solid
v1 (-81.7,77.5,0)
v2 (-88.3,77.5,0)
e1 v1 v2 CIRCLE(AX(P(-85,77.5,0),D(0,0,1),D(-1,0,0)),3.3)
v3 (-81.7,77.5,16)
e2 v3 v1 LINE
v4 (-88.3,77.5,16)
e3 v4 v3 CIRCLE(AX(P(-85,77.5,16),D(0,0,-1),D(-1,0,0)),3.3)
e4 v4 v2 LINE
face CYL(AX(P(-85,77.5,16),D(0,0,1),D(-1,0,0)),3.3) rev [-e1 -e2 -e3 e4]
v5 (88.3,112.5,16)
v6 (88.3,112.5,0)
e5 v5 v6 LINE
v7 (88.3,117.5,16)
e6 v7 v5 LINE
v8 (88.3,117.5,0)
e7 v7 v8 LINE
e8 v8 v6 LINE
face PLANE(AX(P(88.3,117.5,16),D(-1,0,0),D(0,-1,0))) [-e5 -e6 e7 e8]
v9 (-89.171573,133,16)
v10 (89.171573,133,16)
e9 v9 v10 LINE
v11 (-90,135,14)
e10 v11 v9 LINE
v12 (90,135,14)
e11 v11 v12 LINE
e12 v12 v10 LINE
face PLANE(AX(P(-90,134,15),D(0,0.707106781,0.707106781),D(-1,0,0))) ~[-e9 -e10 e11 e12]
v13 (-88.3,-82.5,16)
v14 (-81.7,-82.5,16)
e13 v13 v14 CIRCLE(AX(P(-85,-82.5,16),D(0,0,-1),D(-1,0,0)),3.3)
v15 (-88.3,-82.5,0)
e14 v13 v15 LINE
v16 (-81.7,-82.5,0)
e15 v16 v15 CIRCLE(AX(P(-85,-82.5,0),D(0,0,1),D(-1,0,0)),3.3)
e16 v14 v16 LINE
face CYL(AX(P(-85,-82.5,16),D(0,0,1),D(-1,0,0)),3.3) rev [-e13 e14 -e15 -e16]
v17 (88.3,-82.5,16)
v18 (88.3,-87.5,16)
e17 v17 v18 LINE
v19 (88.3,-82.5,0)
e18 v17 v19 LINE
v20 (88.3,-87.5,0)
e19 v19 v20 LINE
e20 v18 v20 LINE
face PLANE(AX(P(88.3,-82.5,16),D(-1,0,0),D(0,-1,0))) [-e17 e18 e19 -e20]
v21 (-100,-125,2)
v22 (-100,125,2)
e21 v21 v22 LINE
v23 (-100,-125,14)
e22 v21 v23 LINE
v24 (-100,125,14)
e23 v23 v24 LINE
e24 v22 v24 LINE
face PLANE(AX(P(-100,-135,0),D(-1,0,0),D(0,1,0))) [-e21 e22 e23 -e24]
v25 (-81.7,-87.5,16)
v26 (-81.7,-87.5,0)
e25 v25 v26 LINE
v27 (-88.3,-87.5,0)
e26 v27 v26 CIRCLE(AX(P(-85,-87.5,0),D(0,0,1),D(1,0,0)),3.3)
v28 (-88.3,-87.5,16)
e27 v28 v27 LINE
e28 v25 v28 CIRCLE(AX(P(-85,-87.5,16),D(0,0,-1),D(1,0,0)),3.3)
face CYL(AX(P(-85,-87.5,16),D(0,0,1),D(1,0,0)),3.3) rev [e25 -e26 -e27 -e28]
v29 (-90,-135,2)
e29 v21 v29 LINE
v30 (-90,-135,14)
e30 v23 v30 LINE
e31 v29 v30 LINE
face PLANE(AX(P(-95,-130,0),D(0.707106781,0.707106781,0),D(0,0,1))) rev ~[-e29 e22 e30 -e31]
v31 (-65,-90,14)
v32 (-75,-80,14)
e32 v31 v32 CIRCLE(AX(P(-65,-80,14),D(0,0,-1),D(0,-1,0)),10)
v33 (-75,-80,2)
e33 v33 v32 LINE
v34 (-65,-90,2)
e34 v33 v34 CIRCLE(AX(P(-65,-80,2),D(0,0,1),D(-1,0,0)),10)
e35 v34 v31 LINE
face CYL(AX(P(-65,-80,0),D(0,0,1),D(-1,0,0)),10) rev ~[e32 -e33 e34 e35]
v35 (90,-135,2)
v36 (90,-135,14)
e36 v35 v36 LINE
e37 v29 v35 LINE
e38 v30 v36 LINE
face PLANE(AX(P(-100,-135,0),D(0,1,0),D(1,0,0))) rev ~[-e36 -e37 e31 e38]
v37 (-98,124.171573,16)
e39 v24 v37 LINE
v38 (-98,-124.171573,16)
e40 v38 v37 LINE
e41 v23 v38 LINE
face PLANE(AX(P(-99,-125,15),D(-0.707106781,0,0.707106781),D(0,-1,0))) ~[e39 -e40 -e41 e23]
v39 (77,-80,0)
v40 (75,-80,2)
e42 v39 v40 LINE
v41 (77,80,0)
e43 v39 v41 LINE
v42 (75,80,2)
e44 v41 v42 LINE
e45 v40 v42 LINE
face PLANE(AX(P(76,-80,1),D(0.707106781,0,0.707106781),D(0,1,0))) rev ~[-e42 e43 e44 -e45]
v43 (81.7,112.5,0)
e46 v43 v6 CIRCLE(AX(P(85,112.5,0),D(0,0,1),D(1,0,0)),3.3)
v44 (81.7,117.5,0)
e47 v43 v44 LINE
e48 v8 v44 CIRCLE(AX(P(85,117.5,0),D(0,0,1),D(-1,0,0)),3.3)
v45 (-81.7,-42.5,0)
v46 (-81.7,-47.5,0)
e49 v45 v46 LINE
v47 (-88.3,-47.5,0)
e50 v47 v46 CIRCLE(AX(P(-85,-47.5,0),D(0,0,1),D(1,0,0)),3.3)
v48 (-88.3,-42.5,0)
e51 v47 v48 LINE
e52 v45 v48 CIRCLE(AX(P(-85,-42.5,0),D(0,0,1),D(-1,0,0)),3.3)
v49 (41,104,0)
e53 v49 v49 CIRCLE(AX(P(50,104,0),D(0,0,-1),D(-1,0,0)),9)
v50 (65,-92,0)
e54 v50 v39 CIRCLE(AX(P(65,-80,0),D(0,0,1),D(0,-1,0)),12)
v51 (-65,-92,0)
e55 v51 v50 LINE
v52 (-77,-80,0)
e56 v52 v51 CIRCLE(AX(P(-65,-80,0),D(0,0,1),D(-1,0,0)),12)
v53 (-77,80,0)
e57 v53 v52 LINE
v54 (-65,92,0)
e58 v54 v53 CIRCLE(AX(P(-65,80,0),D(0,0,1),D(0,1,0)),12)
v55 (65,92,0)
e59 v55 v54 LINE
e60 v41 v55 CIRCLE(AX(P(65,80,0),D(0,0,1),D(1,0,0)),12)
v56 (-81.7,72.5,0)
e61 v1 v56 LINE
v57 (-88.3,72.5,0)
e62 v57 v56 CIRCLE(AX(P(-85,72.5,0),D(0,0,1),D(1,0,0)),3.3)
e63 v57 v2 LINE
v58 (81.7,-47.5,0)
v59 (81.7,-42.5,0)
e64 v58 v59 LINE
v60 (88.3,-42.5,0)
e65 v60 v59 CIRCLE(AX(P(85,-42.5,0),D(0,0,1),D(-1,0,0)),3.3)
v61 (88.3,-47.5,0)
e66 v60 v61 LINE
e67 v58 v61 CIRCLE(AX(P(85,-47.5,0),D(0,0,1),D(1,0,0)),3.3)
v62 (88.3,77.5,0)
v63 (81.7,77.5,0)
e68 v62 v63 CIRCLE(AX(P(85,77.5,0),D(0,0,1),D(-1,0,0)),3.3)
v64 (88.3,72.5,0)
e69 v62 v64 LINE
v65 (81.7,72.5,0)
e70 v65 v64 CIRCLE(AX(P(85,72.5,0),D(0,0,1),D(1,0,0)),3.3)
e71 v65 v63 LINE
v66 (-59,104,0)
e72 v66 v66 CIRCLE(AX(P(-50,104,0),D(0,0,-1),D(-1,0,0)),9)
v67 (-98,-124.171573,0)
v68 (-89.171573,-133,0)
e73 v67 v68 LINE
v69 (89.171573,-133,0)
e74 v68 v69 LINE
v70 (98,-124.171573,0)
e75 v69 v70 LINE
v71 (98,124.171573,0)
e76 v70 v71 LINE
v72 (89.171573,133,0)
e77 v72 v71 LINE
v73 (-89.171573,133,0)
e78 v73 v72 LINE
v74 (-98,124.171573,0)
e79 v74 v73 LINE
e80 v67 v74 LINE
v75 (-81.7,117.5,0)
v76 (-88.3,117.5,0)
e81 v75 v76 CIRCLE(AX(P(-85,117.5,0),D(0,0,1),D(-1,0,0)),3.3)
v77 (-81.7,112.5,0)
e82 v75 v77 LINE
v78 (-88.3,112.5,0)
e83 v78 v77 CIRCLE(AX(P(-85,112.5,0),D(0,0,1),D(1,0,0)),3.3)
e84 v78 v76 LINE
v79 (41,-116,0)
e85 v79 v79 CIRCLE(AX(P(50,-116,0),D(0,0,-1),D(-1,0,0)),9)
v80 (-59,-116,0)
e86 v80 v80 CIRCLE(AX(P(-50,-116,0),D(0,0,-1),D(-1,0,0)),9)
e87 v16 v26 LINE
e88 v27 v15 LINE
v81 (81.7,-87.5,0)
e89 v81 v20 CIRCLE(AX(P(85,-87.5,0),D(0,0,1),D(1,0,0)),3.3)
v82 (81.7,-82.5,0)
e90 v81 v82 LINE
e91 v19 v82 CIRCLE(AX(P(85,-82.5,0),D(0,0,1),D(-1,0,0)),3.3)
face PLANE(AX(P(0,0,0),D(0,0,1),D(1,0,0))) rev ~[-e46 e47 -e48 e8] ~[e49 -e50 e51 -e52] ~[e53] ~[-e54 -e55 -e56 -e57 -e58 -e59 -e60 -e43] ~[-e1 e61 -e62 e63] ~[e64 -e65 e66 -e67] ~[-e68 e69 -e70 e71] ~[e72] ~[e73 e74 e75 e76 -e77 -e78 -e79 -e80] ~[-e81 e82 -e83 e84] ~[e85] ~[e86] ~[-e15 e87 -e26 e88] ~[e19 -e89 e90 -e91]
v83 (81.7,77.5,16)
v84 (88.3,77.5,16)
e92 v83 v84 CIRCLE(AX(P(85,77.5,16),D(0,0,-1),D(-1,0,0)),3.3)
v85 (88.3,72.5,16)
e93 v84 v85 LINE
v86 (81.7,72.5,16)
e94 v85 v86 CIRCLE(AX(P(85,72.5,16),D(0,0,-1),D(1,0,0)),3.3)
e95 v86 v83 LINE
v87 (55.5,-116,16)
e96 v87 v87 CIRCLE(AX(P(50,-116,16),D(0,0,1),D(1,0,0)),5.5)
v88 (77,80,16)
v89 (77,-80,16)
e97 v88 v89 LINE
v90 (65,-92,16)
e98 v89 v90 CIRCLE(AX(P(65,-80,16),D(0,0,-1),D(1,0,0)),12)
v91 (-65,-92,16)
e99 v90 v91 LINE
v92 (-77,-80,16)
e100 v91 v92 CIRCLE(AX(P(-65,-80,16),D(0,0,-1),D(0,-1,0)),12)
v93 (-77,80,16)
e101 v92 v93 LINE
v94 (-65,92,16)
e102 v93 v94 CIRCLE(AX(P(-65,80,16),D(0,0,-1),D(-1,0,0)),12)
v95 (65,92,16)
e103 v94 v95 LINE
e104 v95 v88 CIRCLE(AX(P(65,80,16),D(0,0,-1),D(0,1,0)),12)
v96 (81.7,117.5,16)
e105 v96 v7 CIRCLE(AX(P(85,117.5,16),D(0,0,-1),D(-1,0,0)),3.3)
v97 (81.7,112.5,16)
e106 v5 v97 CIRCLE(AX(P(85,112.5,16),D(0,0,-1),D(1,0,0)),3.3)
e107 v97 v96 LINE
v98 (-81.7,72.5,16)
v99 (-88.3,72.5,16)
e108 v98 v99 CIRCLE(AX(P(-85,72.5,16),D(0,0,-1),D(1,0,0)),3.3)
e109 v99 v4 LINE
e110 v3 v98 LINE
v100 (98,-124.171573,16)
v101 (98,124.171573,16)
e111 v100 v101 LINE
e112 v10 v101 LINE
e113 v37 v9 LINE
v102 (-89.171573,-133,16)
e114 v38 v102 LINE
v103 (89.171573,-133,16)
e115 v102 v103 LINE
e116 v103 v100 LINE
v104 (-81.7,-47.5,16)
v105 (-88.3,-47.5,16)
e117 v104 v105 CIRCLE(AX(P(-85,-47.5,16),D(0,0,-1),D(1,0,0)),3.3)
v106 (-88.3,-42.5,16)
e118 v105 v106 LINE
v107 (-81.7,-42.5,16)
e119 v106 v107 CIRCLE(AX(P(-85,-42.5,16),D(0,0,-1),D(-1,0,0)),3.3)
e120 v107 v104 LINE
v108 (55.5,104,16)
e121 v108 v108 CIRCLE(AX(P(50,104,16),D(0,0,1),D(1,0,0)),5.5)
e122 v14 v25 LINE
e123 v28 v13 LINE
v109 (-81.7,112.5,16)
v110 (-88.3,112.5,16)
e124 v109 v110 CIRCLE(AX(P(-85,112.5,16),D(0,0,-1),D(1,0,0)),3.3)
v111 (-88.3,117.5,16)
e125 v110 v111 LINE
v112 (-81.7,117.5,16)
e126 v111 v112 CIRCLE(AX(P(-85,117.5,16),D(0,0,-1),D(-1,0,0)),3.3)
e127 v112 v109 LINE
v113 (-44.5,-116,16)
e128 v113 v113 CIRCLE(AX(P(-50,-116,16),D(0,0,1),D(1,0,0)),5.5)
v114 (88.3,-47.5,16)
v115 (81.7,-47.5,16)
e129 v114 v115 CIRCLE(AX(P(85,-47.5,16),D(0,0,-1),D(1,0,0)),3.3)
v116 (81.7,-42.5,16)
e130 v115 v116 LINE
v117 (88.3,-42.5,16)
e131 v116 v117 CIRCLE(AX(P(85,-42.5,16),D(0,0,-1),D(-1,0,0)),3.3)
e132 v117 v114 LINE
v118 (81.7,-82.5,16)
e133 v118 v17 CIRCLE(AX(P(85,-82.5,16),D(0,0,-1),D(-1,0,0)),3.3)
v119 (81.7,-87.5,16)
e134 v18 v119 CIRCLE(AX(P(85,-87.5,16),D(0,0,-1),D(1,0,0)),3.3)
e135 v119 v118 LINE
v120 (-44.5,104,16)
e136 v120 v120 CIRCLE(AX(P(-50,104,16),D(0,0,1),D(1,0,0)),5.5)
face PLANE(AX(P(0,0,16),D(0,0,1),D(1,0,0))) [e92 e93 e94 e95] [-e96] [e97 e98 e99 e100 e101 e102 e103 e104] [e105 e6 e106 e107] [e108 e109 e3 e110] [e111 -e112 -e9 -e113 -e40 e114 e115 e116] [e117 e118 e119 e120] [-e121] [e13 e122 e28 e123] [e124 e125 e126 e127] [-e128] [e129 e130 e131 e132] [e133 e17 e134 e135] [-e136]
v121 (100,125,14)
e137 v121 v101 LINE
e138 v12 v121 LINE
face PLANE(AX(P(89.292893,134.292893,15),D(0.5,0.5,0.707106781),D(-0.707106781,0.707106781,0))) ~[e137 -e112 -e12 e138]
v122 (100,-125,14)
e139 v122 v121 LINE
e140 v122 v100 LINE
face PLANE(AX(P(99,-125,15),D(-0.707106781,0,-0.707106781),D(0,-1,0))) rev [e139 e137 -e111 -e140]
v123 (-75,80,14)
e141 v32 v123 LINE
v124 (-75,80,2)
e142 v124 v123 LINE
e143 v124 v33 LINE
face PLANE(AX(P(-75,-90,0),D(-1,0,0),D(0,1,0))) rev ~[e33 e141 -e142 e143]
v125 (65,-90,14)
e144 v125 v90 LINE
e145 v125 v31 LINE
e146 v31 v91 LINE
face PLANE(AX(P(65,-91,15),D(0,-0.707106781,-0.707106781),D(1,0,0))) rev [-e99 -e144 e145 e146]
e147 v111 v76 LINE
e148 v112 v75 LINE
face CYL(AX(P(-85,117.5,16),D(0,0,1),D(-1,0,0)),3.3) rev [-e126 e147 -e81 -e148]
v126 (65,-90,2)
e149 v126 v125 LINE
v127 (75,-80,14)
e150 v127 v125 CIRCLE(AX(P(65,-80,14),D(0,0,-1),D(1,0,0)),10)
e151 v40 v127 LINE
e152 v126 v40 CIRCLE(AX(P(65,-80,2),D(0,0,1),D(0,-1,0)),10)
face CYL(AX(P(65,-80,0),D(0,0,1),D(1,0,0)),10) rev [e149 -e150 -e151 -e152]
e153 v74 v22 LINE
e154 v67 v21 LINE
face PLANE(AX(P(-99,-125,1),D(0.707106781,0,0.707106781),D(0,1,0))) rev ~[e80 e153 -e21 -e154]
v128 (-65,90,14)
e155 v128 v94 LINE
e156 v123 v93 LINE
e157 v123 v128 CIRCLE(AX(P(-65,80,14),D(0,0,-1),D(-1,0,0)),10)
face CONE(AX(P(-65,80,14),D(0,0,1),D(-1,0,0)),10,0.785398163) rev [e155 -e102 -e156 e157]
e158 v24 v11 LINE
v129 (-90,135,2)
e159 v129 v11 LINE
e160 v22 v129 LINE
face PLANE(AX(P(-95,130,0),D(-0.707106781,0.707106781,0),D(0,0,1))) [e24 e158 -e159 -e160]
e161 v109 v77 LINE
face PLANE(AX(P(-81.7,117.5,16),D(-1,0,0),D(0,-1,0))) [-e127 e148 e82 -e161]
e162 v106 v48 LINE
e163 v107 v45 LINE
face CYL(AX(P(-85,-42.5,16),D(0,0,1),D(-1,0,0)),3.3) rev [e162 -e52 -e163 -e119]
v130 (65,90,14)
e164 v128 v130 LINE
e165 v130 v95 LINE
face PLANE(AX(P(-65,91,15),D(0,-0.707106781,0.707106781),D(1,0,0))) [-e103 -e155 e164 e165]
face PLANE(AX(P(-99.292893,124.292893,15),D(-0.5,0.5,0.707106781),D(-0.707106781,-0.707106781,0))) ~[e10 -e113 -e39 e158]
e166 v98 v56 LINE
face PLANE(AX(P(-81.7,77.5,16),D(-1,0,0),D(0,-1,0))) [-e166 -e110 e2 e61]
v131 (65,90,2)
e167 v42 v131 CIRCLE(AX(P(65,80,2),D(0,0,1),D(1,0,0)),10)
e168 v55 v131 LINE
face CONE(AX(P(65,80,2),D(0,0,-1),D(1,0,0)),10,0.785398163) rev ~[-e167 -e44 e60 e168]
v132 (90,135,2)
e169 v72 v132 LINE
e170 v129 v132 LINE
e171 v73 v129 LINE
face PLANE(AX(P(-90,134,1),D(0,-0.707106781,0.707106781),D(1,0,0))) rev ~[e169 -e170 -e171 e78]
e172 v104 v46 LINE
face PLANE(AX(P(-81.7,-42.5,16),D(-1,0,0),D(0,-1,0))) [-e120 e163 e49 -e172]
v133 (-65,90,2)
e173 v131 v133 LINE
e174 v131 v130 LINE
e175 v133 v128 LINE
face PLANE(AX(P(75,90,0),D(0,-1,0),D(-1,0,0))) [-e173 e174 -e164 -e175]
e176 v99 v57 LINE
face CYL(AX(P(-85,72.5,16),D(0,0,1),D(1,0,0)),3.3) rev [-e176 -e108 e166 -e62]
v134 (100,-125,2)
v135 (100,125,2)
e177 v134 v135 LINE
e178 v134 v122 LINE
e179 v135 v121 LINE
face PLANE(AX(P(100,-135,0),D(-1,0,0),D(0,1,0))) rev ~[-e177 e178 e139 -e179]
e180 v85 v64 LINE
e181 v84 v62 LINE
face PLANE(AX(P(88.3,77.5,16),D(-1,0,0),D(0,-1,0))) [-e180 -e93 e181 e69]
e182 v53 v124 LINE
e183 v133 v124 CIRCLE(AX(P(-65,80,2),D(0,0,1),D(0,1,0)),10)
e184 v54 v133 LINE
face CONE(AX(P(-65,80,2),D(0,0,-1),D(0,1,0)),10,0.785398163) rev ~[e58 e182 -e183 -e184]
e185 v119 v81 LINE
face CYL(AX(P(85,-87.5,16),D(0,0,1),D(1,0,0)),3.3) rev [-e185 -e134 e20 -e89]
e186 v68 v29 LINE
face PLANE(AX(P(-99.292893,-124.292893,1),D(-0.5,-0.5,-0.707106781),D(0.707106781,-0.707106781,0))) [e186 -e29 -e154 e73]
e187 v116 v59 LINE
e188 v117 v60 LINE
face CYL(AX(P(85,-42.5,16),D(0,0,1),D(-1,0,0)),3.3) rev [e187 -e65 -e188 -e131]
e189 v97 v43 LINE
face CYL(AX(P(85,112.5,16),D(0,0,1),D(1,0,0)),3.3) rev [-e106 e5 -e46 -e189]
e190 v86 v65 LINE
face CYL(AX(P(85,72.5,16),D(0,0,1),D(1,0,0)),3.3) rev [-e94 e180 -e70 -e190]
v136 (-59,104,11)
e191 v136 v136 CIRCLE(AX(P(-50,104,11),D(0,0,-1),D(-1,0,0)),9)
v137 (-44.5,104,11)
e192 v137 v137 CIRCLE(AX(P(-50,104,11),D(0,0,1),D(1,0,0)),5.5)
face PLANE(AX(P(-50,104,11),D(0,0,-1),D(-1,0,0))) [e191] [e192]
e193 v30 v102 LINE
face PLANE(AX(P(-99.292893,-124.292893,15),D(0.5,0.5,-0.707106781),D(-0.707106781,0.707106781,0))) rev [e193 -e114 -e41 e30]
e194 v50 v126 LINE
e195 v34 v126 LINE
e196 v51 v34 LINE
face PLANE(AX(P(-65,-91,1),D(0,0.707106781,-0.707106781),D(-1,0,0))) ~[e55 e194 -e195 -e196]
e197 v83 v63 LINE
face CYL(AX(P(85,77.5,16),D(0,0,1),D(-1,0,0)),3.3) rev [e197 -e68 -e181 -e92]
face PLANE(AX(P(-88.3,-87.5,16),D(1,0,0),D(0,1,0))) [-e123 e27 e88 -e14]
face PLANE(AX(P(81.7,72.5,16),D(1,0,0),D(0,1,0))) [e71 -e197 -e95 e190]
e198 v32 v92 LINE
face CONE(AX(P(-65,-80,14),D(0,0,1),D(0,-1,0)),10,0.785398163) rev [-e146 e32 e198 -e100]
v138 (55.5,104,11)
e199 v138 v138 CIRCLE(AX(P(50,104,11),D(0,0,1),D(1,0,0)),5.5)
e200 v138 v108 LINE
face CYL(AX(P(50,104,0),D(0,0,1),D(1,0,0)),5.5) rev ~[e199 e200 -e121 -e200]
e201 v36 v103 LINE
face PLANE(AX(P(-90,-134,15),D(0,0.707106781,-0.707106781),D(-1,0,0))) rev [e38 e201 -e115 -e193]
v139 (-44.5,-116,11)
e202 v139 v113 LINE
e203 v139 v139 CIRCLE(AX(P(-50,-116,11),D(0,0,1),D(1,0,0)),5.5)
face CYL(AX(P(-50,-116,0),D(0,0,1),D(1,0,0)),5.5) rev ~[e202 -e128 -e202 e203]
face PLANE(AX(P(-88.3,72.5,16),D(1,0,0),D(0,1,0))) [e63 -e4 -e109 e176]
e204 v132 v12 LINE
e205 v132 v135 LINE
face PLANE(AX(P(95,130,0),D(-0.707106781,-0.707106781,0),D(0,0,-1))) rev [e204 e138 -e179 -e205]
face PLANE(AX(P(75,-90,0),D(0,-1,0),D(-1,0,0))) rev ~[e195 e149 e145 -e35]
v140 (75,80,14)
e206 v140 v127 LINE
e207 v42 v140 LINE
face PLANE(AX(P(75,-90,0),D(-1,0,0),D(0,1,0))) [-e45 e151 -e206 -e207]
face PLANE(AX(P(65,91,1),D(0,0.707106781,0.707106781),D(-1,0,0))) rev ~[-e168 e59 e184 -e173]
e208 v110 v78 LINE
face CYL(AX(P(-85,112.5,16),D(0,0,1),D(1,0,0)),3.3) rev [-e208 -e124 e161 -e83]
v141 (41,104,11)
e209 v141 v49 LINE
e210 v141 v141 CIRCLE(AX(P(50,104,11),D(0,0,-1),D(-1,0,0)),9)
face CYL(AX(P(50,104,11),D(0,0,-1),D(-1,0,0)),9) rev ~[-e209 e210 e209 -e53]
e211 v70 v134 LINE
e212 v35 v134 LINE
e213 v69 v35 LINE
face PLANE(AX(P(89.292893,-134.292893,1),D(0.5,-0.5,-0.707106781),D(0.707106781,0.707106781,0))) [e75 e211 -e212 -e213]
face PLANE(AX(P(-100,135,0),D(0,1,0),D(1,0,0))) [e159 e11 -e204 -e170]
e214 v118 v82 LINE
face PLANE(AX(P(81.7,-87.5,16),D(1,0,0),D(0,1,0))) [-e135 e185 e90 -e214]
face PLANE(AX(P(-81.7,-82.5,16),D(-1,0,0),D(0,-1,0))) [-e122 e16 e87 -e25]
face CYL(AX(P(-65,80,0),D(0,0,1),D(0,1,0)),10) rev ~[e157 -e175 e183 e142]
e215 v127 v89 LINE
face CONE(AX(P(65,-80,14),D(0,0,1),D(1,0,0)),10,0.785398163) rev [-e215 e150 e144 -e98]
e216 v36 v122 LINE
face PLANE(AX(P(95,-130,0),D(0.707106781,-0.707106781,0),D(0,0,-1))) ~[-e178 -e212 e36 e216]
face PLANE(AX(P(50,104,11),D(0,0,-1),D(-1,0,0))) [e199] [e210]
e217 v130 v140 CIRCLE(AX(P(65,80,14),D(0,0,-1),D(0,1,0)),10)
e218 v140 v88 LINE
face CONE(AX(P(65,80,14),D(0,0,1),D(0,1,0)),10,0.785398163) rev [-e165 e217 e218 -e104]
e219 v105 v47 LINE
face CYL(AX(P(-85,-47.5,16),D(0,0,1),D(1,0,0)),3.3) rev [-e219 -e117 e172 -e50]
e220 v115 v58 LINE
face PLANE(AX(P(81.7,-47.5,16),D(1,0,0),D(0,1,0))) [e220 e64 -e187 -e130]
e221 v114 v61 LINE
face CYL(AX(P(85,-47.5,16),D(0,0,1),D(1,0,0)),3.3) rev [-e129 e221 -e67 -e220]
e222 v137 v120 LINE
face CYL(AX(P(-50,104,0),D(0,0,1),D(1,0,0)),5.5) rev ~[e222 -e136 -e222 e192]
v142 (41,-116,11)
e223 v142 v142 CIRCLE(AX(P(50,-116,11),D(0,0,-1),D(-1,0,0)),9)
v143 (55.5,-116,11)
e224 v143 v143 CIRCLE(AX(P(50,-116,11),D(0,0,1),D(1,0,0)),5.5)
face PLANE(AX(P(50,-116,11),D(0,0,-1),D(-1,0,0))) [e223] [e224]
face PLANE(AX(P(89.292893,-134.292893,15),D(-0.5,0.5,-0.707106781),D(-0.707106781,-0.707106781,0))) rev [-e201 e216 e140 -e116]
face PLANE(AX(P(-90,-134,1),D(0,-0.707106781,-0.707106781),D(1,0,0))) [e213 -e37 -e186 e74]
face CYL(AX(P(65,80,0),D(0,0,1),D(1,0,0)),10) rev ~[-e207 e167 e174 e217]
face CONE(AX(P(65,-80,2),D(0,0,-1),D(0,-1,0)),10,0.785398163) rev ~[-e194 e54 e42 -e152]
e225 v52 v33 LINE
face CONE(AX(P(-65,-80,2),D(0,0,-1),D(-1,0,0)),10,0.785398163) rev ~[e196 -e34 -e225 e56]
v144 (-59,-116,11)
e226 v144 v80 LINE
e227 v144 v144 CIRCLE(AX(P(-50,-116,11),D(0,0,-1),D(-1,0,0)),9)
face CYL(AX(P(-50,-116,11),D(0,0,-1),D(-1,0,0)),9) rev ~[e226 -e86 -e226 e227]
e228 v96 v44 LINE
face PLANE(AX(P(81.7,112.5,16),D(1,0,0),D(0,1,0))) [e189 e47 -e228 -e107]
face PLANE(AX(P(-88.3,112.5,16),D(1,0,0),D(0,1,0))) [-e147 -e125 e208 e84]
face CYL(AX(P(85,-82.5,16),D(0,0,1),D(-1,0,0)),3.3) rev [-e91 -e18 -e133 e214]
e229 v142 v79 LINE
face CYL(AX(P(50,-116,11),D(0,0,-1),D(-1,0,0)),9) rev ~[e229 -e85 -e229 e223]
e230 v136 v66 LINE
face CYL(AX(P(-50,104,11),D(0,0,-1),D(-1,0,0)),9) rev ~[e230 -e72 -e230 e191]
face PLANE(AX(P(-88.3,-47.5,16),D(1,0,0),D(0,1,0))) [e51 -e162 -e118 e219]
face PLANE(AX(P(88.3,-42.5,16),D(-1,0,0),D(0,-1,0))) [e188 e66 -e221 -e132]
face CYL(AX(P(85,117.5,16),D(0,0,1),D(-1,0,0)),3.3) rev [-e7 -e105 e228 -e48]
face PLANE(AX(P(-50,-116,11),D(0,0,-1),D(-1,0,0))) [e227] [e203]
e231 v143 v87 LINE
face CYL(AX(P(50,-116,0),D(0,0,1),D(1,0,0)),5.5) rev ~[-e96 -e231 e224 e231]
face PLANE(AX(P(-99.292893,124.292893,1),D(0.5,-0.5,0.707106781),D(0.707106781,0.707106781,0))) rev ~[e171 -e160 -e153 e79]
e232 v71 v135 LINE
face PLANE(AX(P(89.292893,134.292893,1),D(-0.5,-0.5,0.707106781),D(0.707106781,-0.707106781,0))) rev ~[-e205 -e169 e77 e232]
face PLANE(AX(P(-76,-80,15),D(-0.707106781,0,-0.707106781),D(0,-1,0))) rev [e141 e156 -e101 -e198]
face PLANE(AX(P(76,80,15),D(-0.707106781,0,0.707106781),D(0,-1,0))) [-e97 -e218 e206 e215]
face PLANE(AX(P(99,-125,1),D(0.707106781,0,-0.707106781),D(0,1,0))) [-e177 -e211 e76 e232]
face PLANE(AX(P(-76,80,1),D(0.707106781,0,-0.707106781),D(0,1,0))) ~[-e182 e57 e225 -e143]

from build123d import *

# Parameters (mm, degrees)
SKETCH_1_W                = 200
SKETCH_1_H                = 270
EXTRUDE_1_DEPTH           = 16
HOLE_WIZARD_1_D           = 11
HOLE_WIZARD_1_CBORE_D     = 18
HOLE_WIZARD_1_CBORE_DEPTH = 11
CUT_EXTRUDE_1_DEPTH       = 169.763147636
SKETCH_5_W                = 150
SKETCH_5_H                = 180
CUT_EXTRUDE_2_DEPTH       = 169.763147636
FILLET_1_R                = 10
CHAMFER_1_SIZE            = 10
CHAMFER_2_SIZE            = 2


with BuildPart() as part:
    # 草图1 → 凸台-拉伸1 (new body)
    with BuildSketch(Plane.XY):
        Rectangle(SKETCH_1_W, SKETCH_1_H)
    extrude(amount=EXTRUDE_1_DEPTH)

    # 打孔尺寸(%根据)内六角圆柱头螺钉的类型1 (through all)
    with Locations(Plane(origin=(0, 0, 0), x_dir=(-1, 0, 0), z_dir=(0, 0, -1))):
        with Locations((-50, -116), (50, -116), (-50, 104), (50, 104)):
            CounterBoreHole(HOLE_WIZARD_1_D / 2, HOLE_WIZARD_1_CBORE_D / 2, HOLE_WIZARD_1_CBORE_DEPTH)

    # 草图4 → 切除-拉伸1 (cut, through all)
    with BuildSketch(Plane.XY.offset(16)):
        with BuildLine():
            Line((-88.3, 112.5), (-88.3, 117.5))
            ThreePointArc((-88.3, 117.5), (-85, 120.8), (-81.7, 117.5))
            Line((-81.7, 117.5), (-81.7, 112.5))
            ThreePointArc((-81.7, 112.5), (-85, 109.2), (-88.3, 112.5))
        make_face()
        with BuildLine():
            Line((81.7, 112.5), (81.7, 117.5))
            ThreePointArc((81.7, 117.5), (85, 120.8), (88.3, 117.5))
            Line((88.3, 117.5), (88.3, 112.5))
            ThreePointArc((88.3, 112.5), (85, 109.2), (81.7, 112.5))
        make_face()
        with BuildLine():
            Line((81.7, 72.5), (81.7, 77.5))
            ThreePointArc((81.7, 77.5), (85, 80.8), (88.3, 77.5))
            Line((88.3, 77.5), (88.3, 72.5))
            ThreePointArc((88.3, 72.5), (85, 69.2), (81.7, 72.5))
        make_face()
        with BuildLine():
            Line((-88.3, 72.5), (-88.3, 77.5))
            ThreePointArc((-88.3, 77.5), (-85, 80.8), (-81.7, 77.5))
            Line((-81.7, 77.5), (-81.7, 72.5))
            ThreePointArc((-81.7, 72.5), (-85, 69.2), (-88.3, 72.5))
        make_face()
        with BuildLine():
            Line((-88.3, -47.5), (-88.3, -42.5))
            ThreePointArc((-88.3, -42.5), (-85, -39.2), (-81.7, -42.5))
            Line((-81.7, -42.5), (-81.7, -47.5))
            ThreePointArc((-81.7, -47.5), (-85, -50.8), (-88.3, -47.5))
        make_face()
        with BuildLine():
            Line((-88.3, -87.5), (-88.3, -82.5))
            ThreePointArc((-88.3, -82.5), (-85, -79.2), (-81.7, -82.5))
            Line((-81.7, -82.5), (-81.7, -87.5))
            ThreePointArc((-81.7, -87.5), (-85, -90.8), (-88.3, -87.5))
        make_face()
        with BuildLine():
            Line((81.7, -47.5), (81.7, -42.5))
            ThreePointArc((81.7, -42.5), (85, -39.2), (88.3, -42.5))
            Line((88.3, -42.5), (88.3, -47.5))
            ThreePointArc((88.3, -47.5), (85, -50.8), (81.7, -47.5))
        make_face()
        with BuildLine():
            Line((81.7, -87.5), (81.7, -82.5))
            ThreePointArc((81.7, -82.5), (85, -79.2), (88.3, -82.5))
            Line((88.3, -82.5), (88.3, -87.5))
            ThreePointArc((88.3, -87.5), (85, -90.8), (81.7, -87.5))
        make_face()
    extrude(amount=-CUT_EXTRUDE_1_DEPTH, mode=Mode.SUBTRACT)

    # 草图5 → 切除-拉伸2 (cut, through all)
    with BuildSketch(Plane(origin=(0, 0, 0), x_dir=(-1, 0, 0), z_dir=(0, 0, -1))):
        Rectangle(SKETCH_5_W, SKETCH_5_H)
    extrude(amount=-CUT_EXTRUDE_2_DEPTH, mode=Mode.SUBTRACT)

    # 圆角1
    fillet_1_edges = [part.edges().sort_by_distance(p)[0] for p in [
        (75, -90, 8),
        (75, 90, 8),
        (-75, 90, 8),
        (-75, -90, 8),
    ]]
    fillet(fillet_1_edges, radius=FILLET_1_R)

    # 倒角1
    chamfer_1_edges = [part.edges().sort_by_distance(p)[0] for p in [
        (100, -135, 8),
        (-100, -135, 8),
        (-100, 135, 8),
        (100, 135, 8),
    ]]
    chamfer(chamfer_1_edges, length=CHAMFER_1_SIZE)

    # 倒角2
    chamfer_2_edges = [part.edges().sort_by_distance(p)[0] for p in [
        (0, 90, 0),
        (0, 90, 16),
        (-75, 0, 0),
        (-75, 0, 16),
        (75, 0, 0),
        (75, 0, 16),
        (0, -90, 0),
        (0, -90, 16),
        (-72.071067812, 87.071067812, 0),
        (-72.071067812, 87.071067812, 16),
        (72.071067812, 87.071067812, 0),
        (72.071067812, 87.071067812, 16),
        (-72.071067812, -87.071067812, 0),
        (-72.071067812, -87.071067812, 16),
        (72.071067812, -87.071067812, 0),
        (72.071067812, -87.071067812, 16),
        (100, 0, 0),
        (100, 0, 16),
        (0, -135, 0),
        (-100, 0, 0),
        (0, 135, 0),
        (-95, -130, 0),
        (-95, 130, 0),
        (95, 130, 0),
        (95, -130, 0),
        (0, -135, 16),
        (0, 135, 16),
        (-100, 0, 16),
        (-95, -130, 16),
        (-95, 130, 16),
        (95, 130, 16),
        (95, -130, 16),
    ]]
    chamfer(chamfer_2_edges, length=CHAMFER_2_SIZE)


solid = part.part
